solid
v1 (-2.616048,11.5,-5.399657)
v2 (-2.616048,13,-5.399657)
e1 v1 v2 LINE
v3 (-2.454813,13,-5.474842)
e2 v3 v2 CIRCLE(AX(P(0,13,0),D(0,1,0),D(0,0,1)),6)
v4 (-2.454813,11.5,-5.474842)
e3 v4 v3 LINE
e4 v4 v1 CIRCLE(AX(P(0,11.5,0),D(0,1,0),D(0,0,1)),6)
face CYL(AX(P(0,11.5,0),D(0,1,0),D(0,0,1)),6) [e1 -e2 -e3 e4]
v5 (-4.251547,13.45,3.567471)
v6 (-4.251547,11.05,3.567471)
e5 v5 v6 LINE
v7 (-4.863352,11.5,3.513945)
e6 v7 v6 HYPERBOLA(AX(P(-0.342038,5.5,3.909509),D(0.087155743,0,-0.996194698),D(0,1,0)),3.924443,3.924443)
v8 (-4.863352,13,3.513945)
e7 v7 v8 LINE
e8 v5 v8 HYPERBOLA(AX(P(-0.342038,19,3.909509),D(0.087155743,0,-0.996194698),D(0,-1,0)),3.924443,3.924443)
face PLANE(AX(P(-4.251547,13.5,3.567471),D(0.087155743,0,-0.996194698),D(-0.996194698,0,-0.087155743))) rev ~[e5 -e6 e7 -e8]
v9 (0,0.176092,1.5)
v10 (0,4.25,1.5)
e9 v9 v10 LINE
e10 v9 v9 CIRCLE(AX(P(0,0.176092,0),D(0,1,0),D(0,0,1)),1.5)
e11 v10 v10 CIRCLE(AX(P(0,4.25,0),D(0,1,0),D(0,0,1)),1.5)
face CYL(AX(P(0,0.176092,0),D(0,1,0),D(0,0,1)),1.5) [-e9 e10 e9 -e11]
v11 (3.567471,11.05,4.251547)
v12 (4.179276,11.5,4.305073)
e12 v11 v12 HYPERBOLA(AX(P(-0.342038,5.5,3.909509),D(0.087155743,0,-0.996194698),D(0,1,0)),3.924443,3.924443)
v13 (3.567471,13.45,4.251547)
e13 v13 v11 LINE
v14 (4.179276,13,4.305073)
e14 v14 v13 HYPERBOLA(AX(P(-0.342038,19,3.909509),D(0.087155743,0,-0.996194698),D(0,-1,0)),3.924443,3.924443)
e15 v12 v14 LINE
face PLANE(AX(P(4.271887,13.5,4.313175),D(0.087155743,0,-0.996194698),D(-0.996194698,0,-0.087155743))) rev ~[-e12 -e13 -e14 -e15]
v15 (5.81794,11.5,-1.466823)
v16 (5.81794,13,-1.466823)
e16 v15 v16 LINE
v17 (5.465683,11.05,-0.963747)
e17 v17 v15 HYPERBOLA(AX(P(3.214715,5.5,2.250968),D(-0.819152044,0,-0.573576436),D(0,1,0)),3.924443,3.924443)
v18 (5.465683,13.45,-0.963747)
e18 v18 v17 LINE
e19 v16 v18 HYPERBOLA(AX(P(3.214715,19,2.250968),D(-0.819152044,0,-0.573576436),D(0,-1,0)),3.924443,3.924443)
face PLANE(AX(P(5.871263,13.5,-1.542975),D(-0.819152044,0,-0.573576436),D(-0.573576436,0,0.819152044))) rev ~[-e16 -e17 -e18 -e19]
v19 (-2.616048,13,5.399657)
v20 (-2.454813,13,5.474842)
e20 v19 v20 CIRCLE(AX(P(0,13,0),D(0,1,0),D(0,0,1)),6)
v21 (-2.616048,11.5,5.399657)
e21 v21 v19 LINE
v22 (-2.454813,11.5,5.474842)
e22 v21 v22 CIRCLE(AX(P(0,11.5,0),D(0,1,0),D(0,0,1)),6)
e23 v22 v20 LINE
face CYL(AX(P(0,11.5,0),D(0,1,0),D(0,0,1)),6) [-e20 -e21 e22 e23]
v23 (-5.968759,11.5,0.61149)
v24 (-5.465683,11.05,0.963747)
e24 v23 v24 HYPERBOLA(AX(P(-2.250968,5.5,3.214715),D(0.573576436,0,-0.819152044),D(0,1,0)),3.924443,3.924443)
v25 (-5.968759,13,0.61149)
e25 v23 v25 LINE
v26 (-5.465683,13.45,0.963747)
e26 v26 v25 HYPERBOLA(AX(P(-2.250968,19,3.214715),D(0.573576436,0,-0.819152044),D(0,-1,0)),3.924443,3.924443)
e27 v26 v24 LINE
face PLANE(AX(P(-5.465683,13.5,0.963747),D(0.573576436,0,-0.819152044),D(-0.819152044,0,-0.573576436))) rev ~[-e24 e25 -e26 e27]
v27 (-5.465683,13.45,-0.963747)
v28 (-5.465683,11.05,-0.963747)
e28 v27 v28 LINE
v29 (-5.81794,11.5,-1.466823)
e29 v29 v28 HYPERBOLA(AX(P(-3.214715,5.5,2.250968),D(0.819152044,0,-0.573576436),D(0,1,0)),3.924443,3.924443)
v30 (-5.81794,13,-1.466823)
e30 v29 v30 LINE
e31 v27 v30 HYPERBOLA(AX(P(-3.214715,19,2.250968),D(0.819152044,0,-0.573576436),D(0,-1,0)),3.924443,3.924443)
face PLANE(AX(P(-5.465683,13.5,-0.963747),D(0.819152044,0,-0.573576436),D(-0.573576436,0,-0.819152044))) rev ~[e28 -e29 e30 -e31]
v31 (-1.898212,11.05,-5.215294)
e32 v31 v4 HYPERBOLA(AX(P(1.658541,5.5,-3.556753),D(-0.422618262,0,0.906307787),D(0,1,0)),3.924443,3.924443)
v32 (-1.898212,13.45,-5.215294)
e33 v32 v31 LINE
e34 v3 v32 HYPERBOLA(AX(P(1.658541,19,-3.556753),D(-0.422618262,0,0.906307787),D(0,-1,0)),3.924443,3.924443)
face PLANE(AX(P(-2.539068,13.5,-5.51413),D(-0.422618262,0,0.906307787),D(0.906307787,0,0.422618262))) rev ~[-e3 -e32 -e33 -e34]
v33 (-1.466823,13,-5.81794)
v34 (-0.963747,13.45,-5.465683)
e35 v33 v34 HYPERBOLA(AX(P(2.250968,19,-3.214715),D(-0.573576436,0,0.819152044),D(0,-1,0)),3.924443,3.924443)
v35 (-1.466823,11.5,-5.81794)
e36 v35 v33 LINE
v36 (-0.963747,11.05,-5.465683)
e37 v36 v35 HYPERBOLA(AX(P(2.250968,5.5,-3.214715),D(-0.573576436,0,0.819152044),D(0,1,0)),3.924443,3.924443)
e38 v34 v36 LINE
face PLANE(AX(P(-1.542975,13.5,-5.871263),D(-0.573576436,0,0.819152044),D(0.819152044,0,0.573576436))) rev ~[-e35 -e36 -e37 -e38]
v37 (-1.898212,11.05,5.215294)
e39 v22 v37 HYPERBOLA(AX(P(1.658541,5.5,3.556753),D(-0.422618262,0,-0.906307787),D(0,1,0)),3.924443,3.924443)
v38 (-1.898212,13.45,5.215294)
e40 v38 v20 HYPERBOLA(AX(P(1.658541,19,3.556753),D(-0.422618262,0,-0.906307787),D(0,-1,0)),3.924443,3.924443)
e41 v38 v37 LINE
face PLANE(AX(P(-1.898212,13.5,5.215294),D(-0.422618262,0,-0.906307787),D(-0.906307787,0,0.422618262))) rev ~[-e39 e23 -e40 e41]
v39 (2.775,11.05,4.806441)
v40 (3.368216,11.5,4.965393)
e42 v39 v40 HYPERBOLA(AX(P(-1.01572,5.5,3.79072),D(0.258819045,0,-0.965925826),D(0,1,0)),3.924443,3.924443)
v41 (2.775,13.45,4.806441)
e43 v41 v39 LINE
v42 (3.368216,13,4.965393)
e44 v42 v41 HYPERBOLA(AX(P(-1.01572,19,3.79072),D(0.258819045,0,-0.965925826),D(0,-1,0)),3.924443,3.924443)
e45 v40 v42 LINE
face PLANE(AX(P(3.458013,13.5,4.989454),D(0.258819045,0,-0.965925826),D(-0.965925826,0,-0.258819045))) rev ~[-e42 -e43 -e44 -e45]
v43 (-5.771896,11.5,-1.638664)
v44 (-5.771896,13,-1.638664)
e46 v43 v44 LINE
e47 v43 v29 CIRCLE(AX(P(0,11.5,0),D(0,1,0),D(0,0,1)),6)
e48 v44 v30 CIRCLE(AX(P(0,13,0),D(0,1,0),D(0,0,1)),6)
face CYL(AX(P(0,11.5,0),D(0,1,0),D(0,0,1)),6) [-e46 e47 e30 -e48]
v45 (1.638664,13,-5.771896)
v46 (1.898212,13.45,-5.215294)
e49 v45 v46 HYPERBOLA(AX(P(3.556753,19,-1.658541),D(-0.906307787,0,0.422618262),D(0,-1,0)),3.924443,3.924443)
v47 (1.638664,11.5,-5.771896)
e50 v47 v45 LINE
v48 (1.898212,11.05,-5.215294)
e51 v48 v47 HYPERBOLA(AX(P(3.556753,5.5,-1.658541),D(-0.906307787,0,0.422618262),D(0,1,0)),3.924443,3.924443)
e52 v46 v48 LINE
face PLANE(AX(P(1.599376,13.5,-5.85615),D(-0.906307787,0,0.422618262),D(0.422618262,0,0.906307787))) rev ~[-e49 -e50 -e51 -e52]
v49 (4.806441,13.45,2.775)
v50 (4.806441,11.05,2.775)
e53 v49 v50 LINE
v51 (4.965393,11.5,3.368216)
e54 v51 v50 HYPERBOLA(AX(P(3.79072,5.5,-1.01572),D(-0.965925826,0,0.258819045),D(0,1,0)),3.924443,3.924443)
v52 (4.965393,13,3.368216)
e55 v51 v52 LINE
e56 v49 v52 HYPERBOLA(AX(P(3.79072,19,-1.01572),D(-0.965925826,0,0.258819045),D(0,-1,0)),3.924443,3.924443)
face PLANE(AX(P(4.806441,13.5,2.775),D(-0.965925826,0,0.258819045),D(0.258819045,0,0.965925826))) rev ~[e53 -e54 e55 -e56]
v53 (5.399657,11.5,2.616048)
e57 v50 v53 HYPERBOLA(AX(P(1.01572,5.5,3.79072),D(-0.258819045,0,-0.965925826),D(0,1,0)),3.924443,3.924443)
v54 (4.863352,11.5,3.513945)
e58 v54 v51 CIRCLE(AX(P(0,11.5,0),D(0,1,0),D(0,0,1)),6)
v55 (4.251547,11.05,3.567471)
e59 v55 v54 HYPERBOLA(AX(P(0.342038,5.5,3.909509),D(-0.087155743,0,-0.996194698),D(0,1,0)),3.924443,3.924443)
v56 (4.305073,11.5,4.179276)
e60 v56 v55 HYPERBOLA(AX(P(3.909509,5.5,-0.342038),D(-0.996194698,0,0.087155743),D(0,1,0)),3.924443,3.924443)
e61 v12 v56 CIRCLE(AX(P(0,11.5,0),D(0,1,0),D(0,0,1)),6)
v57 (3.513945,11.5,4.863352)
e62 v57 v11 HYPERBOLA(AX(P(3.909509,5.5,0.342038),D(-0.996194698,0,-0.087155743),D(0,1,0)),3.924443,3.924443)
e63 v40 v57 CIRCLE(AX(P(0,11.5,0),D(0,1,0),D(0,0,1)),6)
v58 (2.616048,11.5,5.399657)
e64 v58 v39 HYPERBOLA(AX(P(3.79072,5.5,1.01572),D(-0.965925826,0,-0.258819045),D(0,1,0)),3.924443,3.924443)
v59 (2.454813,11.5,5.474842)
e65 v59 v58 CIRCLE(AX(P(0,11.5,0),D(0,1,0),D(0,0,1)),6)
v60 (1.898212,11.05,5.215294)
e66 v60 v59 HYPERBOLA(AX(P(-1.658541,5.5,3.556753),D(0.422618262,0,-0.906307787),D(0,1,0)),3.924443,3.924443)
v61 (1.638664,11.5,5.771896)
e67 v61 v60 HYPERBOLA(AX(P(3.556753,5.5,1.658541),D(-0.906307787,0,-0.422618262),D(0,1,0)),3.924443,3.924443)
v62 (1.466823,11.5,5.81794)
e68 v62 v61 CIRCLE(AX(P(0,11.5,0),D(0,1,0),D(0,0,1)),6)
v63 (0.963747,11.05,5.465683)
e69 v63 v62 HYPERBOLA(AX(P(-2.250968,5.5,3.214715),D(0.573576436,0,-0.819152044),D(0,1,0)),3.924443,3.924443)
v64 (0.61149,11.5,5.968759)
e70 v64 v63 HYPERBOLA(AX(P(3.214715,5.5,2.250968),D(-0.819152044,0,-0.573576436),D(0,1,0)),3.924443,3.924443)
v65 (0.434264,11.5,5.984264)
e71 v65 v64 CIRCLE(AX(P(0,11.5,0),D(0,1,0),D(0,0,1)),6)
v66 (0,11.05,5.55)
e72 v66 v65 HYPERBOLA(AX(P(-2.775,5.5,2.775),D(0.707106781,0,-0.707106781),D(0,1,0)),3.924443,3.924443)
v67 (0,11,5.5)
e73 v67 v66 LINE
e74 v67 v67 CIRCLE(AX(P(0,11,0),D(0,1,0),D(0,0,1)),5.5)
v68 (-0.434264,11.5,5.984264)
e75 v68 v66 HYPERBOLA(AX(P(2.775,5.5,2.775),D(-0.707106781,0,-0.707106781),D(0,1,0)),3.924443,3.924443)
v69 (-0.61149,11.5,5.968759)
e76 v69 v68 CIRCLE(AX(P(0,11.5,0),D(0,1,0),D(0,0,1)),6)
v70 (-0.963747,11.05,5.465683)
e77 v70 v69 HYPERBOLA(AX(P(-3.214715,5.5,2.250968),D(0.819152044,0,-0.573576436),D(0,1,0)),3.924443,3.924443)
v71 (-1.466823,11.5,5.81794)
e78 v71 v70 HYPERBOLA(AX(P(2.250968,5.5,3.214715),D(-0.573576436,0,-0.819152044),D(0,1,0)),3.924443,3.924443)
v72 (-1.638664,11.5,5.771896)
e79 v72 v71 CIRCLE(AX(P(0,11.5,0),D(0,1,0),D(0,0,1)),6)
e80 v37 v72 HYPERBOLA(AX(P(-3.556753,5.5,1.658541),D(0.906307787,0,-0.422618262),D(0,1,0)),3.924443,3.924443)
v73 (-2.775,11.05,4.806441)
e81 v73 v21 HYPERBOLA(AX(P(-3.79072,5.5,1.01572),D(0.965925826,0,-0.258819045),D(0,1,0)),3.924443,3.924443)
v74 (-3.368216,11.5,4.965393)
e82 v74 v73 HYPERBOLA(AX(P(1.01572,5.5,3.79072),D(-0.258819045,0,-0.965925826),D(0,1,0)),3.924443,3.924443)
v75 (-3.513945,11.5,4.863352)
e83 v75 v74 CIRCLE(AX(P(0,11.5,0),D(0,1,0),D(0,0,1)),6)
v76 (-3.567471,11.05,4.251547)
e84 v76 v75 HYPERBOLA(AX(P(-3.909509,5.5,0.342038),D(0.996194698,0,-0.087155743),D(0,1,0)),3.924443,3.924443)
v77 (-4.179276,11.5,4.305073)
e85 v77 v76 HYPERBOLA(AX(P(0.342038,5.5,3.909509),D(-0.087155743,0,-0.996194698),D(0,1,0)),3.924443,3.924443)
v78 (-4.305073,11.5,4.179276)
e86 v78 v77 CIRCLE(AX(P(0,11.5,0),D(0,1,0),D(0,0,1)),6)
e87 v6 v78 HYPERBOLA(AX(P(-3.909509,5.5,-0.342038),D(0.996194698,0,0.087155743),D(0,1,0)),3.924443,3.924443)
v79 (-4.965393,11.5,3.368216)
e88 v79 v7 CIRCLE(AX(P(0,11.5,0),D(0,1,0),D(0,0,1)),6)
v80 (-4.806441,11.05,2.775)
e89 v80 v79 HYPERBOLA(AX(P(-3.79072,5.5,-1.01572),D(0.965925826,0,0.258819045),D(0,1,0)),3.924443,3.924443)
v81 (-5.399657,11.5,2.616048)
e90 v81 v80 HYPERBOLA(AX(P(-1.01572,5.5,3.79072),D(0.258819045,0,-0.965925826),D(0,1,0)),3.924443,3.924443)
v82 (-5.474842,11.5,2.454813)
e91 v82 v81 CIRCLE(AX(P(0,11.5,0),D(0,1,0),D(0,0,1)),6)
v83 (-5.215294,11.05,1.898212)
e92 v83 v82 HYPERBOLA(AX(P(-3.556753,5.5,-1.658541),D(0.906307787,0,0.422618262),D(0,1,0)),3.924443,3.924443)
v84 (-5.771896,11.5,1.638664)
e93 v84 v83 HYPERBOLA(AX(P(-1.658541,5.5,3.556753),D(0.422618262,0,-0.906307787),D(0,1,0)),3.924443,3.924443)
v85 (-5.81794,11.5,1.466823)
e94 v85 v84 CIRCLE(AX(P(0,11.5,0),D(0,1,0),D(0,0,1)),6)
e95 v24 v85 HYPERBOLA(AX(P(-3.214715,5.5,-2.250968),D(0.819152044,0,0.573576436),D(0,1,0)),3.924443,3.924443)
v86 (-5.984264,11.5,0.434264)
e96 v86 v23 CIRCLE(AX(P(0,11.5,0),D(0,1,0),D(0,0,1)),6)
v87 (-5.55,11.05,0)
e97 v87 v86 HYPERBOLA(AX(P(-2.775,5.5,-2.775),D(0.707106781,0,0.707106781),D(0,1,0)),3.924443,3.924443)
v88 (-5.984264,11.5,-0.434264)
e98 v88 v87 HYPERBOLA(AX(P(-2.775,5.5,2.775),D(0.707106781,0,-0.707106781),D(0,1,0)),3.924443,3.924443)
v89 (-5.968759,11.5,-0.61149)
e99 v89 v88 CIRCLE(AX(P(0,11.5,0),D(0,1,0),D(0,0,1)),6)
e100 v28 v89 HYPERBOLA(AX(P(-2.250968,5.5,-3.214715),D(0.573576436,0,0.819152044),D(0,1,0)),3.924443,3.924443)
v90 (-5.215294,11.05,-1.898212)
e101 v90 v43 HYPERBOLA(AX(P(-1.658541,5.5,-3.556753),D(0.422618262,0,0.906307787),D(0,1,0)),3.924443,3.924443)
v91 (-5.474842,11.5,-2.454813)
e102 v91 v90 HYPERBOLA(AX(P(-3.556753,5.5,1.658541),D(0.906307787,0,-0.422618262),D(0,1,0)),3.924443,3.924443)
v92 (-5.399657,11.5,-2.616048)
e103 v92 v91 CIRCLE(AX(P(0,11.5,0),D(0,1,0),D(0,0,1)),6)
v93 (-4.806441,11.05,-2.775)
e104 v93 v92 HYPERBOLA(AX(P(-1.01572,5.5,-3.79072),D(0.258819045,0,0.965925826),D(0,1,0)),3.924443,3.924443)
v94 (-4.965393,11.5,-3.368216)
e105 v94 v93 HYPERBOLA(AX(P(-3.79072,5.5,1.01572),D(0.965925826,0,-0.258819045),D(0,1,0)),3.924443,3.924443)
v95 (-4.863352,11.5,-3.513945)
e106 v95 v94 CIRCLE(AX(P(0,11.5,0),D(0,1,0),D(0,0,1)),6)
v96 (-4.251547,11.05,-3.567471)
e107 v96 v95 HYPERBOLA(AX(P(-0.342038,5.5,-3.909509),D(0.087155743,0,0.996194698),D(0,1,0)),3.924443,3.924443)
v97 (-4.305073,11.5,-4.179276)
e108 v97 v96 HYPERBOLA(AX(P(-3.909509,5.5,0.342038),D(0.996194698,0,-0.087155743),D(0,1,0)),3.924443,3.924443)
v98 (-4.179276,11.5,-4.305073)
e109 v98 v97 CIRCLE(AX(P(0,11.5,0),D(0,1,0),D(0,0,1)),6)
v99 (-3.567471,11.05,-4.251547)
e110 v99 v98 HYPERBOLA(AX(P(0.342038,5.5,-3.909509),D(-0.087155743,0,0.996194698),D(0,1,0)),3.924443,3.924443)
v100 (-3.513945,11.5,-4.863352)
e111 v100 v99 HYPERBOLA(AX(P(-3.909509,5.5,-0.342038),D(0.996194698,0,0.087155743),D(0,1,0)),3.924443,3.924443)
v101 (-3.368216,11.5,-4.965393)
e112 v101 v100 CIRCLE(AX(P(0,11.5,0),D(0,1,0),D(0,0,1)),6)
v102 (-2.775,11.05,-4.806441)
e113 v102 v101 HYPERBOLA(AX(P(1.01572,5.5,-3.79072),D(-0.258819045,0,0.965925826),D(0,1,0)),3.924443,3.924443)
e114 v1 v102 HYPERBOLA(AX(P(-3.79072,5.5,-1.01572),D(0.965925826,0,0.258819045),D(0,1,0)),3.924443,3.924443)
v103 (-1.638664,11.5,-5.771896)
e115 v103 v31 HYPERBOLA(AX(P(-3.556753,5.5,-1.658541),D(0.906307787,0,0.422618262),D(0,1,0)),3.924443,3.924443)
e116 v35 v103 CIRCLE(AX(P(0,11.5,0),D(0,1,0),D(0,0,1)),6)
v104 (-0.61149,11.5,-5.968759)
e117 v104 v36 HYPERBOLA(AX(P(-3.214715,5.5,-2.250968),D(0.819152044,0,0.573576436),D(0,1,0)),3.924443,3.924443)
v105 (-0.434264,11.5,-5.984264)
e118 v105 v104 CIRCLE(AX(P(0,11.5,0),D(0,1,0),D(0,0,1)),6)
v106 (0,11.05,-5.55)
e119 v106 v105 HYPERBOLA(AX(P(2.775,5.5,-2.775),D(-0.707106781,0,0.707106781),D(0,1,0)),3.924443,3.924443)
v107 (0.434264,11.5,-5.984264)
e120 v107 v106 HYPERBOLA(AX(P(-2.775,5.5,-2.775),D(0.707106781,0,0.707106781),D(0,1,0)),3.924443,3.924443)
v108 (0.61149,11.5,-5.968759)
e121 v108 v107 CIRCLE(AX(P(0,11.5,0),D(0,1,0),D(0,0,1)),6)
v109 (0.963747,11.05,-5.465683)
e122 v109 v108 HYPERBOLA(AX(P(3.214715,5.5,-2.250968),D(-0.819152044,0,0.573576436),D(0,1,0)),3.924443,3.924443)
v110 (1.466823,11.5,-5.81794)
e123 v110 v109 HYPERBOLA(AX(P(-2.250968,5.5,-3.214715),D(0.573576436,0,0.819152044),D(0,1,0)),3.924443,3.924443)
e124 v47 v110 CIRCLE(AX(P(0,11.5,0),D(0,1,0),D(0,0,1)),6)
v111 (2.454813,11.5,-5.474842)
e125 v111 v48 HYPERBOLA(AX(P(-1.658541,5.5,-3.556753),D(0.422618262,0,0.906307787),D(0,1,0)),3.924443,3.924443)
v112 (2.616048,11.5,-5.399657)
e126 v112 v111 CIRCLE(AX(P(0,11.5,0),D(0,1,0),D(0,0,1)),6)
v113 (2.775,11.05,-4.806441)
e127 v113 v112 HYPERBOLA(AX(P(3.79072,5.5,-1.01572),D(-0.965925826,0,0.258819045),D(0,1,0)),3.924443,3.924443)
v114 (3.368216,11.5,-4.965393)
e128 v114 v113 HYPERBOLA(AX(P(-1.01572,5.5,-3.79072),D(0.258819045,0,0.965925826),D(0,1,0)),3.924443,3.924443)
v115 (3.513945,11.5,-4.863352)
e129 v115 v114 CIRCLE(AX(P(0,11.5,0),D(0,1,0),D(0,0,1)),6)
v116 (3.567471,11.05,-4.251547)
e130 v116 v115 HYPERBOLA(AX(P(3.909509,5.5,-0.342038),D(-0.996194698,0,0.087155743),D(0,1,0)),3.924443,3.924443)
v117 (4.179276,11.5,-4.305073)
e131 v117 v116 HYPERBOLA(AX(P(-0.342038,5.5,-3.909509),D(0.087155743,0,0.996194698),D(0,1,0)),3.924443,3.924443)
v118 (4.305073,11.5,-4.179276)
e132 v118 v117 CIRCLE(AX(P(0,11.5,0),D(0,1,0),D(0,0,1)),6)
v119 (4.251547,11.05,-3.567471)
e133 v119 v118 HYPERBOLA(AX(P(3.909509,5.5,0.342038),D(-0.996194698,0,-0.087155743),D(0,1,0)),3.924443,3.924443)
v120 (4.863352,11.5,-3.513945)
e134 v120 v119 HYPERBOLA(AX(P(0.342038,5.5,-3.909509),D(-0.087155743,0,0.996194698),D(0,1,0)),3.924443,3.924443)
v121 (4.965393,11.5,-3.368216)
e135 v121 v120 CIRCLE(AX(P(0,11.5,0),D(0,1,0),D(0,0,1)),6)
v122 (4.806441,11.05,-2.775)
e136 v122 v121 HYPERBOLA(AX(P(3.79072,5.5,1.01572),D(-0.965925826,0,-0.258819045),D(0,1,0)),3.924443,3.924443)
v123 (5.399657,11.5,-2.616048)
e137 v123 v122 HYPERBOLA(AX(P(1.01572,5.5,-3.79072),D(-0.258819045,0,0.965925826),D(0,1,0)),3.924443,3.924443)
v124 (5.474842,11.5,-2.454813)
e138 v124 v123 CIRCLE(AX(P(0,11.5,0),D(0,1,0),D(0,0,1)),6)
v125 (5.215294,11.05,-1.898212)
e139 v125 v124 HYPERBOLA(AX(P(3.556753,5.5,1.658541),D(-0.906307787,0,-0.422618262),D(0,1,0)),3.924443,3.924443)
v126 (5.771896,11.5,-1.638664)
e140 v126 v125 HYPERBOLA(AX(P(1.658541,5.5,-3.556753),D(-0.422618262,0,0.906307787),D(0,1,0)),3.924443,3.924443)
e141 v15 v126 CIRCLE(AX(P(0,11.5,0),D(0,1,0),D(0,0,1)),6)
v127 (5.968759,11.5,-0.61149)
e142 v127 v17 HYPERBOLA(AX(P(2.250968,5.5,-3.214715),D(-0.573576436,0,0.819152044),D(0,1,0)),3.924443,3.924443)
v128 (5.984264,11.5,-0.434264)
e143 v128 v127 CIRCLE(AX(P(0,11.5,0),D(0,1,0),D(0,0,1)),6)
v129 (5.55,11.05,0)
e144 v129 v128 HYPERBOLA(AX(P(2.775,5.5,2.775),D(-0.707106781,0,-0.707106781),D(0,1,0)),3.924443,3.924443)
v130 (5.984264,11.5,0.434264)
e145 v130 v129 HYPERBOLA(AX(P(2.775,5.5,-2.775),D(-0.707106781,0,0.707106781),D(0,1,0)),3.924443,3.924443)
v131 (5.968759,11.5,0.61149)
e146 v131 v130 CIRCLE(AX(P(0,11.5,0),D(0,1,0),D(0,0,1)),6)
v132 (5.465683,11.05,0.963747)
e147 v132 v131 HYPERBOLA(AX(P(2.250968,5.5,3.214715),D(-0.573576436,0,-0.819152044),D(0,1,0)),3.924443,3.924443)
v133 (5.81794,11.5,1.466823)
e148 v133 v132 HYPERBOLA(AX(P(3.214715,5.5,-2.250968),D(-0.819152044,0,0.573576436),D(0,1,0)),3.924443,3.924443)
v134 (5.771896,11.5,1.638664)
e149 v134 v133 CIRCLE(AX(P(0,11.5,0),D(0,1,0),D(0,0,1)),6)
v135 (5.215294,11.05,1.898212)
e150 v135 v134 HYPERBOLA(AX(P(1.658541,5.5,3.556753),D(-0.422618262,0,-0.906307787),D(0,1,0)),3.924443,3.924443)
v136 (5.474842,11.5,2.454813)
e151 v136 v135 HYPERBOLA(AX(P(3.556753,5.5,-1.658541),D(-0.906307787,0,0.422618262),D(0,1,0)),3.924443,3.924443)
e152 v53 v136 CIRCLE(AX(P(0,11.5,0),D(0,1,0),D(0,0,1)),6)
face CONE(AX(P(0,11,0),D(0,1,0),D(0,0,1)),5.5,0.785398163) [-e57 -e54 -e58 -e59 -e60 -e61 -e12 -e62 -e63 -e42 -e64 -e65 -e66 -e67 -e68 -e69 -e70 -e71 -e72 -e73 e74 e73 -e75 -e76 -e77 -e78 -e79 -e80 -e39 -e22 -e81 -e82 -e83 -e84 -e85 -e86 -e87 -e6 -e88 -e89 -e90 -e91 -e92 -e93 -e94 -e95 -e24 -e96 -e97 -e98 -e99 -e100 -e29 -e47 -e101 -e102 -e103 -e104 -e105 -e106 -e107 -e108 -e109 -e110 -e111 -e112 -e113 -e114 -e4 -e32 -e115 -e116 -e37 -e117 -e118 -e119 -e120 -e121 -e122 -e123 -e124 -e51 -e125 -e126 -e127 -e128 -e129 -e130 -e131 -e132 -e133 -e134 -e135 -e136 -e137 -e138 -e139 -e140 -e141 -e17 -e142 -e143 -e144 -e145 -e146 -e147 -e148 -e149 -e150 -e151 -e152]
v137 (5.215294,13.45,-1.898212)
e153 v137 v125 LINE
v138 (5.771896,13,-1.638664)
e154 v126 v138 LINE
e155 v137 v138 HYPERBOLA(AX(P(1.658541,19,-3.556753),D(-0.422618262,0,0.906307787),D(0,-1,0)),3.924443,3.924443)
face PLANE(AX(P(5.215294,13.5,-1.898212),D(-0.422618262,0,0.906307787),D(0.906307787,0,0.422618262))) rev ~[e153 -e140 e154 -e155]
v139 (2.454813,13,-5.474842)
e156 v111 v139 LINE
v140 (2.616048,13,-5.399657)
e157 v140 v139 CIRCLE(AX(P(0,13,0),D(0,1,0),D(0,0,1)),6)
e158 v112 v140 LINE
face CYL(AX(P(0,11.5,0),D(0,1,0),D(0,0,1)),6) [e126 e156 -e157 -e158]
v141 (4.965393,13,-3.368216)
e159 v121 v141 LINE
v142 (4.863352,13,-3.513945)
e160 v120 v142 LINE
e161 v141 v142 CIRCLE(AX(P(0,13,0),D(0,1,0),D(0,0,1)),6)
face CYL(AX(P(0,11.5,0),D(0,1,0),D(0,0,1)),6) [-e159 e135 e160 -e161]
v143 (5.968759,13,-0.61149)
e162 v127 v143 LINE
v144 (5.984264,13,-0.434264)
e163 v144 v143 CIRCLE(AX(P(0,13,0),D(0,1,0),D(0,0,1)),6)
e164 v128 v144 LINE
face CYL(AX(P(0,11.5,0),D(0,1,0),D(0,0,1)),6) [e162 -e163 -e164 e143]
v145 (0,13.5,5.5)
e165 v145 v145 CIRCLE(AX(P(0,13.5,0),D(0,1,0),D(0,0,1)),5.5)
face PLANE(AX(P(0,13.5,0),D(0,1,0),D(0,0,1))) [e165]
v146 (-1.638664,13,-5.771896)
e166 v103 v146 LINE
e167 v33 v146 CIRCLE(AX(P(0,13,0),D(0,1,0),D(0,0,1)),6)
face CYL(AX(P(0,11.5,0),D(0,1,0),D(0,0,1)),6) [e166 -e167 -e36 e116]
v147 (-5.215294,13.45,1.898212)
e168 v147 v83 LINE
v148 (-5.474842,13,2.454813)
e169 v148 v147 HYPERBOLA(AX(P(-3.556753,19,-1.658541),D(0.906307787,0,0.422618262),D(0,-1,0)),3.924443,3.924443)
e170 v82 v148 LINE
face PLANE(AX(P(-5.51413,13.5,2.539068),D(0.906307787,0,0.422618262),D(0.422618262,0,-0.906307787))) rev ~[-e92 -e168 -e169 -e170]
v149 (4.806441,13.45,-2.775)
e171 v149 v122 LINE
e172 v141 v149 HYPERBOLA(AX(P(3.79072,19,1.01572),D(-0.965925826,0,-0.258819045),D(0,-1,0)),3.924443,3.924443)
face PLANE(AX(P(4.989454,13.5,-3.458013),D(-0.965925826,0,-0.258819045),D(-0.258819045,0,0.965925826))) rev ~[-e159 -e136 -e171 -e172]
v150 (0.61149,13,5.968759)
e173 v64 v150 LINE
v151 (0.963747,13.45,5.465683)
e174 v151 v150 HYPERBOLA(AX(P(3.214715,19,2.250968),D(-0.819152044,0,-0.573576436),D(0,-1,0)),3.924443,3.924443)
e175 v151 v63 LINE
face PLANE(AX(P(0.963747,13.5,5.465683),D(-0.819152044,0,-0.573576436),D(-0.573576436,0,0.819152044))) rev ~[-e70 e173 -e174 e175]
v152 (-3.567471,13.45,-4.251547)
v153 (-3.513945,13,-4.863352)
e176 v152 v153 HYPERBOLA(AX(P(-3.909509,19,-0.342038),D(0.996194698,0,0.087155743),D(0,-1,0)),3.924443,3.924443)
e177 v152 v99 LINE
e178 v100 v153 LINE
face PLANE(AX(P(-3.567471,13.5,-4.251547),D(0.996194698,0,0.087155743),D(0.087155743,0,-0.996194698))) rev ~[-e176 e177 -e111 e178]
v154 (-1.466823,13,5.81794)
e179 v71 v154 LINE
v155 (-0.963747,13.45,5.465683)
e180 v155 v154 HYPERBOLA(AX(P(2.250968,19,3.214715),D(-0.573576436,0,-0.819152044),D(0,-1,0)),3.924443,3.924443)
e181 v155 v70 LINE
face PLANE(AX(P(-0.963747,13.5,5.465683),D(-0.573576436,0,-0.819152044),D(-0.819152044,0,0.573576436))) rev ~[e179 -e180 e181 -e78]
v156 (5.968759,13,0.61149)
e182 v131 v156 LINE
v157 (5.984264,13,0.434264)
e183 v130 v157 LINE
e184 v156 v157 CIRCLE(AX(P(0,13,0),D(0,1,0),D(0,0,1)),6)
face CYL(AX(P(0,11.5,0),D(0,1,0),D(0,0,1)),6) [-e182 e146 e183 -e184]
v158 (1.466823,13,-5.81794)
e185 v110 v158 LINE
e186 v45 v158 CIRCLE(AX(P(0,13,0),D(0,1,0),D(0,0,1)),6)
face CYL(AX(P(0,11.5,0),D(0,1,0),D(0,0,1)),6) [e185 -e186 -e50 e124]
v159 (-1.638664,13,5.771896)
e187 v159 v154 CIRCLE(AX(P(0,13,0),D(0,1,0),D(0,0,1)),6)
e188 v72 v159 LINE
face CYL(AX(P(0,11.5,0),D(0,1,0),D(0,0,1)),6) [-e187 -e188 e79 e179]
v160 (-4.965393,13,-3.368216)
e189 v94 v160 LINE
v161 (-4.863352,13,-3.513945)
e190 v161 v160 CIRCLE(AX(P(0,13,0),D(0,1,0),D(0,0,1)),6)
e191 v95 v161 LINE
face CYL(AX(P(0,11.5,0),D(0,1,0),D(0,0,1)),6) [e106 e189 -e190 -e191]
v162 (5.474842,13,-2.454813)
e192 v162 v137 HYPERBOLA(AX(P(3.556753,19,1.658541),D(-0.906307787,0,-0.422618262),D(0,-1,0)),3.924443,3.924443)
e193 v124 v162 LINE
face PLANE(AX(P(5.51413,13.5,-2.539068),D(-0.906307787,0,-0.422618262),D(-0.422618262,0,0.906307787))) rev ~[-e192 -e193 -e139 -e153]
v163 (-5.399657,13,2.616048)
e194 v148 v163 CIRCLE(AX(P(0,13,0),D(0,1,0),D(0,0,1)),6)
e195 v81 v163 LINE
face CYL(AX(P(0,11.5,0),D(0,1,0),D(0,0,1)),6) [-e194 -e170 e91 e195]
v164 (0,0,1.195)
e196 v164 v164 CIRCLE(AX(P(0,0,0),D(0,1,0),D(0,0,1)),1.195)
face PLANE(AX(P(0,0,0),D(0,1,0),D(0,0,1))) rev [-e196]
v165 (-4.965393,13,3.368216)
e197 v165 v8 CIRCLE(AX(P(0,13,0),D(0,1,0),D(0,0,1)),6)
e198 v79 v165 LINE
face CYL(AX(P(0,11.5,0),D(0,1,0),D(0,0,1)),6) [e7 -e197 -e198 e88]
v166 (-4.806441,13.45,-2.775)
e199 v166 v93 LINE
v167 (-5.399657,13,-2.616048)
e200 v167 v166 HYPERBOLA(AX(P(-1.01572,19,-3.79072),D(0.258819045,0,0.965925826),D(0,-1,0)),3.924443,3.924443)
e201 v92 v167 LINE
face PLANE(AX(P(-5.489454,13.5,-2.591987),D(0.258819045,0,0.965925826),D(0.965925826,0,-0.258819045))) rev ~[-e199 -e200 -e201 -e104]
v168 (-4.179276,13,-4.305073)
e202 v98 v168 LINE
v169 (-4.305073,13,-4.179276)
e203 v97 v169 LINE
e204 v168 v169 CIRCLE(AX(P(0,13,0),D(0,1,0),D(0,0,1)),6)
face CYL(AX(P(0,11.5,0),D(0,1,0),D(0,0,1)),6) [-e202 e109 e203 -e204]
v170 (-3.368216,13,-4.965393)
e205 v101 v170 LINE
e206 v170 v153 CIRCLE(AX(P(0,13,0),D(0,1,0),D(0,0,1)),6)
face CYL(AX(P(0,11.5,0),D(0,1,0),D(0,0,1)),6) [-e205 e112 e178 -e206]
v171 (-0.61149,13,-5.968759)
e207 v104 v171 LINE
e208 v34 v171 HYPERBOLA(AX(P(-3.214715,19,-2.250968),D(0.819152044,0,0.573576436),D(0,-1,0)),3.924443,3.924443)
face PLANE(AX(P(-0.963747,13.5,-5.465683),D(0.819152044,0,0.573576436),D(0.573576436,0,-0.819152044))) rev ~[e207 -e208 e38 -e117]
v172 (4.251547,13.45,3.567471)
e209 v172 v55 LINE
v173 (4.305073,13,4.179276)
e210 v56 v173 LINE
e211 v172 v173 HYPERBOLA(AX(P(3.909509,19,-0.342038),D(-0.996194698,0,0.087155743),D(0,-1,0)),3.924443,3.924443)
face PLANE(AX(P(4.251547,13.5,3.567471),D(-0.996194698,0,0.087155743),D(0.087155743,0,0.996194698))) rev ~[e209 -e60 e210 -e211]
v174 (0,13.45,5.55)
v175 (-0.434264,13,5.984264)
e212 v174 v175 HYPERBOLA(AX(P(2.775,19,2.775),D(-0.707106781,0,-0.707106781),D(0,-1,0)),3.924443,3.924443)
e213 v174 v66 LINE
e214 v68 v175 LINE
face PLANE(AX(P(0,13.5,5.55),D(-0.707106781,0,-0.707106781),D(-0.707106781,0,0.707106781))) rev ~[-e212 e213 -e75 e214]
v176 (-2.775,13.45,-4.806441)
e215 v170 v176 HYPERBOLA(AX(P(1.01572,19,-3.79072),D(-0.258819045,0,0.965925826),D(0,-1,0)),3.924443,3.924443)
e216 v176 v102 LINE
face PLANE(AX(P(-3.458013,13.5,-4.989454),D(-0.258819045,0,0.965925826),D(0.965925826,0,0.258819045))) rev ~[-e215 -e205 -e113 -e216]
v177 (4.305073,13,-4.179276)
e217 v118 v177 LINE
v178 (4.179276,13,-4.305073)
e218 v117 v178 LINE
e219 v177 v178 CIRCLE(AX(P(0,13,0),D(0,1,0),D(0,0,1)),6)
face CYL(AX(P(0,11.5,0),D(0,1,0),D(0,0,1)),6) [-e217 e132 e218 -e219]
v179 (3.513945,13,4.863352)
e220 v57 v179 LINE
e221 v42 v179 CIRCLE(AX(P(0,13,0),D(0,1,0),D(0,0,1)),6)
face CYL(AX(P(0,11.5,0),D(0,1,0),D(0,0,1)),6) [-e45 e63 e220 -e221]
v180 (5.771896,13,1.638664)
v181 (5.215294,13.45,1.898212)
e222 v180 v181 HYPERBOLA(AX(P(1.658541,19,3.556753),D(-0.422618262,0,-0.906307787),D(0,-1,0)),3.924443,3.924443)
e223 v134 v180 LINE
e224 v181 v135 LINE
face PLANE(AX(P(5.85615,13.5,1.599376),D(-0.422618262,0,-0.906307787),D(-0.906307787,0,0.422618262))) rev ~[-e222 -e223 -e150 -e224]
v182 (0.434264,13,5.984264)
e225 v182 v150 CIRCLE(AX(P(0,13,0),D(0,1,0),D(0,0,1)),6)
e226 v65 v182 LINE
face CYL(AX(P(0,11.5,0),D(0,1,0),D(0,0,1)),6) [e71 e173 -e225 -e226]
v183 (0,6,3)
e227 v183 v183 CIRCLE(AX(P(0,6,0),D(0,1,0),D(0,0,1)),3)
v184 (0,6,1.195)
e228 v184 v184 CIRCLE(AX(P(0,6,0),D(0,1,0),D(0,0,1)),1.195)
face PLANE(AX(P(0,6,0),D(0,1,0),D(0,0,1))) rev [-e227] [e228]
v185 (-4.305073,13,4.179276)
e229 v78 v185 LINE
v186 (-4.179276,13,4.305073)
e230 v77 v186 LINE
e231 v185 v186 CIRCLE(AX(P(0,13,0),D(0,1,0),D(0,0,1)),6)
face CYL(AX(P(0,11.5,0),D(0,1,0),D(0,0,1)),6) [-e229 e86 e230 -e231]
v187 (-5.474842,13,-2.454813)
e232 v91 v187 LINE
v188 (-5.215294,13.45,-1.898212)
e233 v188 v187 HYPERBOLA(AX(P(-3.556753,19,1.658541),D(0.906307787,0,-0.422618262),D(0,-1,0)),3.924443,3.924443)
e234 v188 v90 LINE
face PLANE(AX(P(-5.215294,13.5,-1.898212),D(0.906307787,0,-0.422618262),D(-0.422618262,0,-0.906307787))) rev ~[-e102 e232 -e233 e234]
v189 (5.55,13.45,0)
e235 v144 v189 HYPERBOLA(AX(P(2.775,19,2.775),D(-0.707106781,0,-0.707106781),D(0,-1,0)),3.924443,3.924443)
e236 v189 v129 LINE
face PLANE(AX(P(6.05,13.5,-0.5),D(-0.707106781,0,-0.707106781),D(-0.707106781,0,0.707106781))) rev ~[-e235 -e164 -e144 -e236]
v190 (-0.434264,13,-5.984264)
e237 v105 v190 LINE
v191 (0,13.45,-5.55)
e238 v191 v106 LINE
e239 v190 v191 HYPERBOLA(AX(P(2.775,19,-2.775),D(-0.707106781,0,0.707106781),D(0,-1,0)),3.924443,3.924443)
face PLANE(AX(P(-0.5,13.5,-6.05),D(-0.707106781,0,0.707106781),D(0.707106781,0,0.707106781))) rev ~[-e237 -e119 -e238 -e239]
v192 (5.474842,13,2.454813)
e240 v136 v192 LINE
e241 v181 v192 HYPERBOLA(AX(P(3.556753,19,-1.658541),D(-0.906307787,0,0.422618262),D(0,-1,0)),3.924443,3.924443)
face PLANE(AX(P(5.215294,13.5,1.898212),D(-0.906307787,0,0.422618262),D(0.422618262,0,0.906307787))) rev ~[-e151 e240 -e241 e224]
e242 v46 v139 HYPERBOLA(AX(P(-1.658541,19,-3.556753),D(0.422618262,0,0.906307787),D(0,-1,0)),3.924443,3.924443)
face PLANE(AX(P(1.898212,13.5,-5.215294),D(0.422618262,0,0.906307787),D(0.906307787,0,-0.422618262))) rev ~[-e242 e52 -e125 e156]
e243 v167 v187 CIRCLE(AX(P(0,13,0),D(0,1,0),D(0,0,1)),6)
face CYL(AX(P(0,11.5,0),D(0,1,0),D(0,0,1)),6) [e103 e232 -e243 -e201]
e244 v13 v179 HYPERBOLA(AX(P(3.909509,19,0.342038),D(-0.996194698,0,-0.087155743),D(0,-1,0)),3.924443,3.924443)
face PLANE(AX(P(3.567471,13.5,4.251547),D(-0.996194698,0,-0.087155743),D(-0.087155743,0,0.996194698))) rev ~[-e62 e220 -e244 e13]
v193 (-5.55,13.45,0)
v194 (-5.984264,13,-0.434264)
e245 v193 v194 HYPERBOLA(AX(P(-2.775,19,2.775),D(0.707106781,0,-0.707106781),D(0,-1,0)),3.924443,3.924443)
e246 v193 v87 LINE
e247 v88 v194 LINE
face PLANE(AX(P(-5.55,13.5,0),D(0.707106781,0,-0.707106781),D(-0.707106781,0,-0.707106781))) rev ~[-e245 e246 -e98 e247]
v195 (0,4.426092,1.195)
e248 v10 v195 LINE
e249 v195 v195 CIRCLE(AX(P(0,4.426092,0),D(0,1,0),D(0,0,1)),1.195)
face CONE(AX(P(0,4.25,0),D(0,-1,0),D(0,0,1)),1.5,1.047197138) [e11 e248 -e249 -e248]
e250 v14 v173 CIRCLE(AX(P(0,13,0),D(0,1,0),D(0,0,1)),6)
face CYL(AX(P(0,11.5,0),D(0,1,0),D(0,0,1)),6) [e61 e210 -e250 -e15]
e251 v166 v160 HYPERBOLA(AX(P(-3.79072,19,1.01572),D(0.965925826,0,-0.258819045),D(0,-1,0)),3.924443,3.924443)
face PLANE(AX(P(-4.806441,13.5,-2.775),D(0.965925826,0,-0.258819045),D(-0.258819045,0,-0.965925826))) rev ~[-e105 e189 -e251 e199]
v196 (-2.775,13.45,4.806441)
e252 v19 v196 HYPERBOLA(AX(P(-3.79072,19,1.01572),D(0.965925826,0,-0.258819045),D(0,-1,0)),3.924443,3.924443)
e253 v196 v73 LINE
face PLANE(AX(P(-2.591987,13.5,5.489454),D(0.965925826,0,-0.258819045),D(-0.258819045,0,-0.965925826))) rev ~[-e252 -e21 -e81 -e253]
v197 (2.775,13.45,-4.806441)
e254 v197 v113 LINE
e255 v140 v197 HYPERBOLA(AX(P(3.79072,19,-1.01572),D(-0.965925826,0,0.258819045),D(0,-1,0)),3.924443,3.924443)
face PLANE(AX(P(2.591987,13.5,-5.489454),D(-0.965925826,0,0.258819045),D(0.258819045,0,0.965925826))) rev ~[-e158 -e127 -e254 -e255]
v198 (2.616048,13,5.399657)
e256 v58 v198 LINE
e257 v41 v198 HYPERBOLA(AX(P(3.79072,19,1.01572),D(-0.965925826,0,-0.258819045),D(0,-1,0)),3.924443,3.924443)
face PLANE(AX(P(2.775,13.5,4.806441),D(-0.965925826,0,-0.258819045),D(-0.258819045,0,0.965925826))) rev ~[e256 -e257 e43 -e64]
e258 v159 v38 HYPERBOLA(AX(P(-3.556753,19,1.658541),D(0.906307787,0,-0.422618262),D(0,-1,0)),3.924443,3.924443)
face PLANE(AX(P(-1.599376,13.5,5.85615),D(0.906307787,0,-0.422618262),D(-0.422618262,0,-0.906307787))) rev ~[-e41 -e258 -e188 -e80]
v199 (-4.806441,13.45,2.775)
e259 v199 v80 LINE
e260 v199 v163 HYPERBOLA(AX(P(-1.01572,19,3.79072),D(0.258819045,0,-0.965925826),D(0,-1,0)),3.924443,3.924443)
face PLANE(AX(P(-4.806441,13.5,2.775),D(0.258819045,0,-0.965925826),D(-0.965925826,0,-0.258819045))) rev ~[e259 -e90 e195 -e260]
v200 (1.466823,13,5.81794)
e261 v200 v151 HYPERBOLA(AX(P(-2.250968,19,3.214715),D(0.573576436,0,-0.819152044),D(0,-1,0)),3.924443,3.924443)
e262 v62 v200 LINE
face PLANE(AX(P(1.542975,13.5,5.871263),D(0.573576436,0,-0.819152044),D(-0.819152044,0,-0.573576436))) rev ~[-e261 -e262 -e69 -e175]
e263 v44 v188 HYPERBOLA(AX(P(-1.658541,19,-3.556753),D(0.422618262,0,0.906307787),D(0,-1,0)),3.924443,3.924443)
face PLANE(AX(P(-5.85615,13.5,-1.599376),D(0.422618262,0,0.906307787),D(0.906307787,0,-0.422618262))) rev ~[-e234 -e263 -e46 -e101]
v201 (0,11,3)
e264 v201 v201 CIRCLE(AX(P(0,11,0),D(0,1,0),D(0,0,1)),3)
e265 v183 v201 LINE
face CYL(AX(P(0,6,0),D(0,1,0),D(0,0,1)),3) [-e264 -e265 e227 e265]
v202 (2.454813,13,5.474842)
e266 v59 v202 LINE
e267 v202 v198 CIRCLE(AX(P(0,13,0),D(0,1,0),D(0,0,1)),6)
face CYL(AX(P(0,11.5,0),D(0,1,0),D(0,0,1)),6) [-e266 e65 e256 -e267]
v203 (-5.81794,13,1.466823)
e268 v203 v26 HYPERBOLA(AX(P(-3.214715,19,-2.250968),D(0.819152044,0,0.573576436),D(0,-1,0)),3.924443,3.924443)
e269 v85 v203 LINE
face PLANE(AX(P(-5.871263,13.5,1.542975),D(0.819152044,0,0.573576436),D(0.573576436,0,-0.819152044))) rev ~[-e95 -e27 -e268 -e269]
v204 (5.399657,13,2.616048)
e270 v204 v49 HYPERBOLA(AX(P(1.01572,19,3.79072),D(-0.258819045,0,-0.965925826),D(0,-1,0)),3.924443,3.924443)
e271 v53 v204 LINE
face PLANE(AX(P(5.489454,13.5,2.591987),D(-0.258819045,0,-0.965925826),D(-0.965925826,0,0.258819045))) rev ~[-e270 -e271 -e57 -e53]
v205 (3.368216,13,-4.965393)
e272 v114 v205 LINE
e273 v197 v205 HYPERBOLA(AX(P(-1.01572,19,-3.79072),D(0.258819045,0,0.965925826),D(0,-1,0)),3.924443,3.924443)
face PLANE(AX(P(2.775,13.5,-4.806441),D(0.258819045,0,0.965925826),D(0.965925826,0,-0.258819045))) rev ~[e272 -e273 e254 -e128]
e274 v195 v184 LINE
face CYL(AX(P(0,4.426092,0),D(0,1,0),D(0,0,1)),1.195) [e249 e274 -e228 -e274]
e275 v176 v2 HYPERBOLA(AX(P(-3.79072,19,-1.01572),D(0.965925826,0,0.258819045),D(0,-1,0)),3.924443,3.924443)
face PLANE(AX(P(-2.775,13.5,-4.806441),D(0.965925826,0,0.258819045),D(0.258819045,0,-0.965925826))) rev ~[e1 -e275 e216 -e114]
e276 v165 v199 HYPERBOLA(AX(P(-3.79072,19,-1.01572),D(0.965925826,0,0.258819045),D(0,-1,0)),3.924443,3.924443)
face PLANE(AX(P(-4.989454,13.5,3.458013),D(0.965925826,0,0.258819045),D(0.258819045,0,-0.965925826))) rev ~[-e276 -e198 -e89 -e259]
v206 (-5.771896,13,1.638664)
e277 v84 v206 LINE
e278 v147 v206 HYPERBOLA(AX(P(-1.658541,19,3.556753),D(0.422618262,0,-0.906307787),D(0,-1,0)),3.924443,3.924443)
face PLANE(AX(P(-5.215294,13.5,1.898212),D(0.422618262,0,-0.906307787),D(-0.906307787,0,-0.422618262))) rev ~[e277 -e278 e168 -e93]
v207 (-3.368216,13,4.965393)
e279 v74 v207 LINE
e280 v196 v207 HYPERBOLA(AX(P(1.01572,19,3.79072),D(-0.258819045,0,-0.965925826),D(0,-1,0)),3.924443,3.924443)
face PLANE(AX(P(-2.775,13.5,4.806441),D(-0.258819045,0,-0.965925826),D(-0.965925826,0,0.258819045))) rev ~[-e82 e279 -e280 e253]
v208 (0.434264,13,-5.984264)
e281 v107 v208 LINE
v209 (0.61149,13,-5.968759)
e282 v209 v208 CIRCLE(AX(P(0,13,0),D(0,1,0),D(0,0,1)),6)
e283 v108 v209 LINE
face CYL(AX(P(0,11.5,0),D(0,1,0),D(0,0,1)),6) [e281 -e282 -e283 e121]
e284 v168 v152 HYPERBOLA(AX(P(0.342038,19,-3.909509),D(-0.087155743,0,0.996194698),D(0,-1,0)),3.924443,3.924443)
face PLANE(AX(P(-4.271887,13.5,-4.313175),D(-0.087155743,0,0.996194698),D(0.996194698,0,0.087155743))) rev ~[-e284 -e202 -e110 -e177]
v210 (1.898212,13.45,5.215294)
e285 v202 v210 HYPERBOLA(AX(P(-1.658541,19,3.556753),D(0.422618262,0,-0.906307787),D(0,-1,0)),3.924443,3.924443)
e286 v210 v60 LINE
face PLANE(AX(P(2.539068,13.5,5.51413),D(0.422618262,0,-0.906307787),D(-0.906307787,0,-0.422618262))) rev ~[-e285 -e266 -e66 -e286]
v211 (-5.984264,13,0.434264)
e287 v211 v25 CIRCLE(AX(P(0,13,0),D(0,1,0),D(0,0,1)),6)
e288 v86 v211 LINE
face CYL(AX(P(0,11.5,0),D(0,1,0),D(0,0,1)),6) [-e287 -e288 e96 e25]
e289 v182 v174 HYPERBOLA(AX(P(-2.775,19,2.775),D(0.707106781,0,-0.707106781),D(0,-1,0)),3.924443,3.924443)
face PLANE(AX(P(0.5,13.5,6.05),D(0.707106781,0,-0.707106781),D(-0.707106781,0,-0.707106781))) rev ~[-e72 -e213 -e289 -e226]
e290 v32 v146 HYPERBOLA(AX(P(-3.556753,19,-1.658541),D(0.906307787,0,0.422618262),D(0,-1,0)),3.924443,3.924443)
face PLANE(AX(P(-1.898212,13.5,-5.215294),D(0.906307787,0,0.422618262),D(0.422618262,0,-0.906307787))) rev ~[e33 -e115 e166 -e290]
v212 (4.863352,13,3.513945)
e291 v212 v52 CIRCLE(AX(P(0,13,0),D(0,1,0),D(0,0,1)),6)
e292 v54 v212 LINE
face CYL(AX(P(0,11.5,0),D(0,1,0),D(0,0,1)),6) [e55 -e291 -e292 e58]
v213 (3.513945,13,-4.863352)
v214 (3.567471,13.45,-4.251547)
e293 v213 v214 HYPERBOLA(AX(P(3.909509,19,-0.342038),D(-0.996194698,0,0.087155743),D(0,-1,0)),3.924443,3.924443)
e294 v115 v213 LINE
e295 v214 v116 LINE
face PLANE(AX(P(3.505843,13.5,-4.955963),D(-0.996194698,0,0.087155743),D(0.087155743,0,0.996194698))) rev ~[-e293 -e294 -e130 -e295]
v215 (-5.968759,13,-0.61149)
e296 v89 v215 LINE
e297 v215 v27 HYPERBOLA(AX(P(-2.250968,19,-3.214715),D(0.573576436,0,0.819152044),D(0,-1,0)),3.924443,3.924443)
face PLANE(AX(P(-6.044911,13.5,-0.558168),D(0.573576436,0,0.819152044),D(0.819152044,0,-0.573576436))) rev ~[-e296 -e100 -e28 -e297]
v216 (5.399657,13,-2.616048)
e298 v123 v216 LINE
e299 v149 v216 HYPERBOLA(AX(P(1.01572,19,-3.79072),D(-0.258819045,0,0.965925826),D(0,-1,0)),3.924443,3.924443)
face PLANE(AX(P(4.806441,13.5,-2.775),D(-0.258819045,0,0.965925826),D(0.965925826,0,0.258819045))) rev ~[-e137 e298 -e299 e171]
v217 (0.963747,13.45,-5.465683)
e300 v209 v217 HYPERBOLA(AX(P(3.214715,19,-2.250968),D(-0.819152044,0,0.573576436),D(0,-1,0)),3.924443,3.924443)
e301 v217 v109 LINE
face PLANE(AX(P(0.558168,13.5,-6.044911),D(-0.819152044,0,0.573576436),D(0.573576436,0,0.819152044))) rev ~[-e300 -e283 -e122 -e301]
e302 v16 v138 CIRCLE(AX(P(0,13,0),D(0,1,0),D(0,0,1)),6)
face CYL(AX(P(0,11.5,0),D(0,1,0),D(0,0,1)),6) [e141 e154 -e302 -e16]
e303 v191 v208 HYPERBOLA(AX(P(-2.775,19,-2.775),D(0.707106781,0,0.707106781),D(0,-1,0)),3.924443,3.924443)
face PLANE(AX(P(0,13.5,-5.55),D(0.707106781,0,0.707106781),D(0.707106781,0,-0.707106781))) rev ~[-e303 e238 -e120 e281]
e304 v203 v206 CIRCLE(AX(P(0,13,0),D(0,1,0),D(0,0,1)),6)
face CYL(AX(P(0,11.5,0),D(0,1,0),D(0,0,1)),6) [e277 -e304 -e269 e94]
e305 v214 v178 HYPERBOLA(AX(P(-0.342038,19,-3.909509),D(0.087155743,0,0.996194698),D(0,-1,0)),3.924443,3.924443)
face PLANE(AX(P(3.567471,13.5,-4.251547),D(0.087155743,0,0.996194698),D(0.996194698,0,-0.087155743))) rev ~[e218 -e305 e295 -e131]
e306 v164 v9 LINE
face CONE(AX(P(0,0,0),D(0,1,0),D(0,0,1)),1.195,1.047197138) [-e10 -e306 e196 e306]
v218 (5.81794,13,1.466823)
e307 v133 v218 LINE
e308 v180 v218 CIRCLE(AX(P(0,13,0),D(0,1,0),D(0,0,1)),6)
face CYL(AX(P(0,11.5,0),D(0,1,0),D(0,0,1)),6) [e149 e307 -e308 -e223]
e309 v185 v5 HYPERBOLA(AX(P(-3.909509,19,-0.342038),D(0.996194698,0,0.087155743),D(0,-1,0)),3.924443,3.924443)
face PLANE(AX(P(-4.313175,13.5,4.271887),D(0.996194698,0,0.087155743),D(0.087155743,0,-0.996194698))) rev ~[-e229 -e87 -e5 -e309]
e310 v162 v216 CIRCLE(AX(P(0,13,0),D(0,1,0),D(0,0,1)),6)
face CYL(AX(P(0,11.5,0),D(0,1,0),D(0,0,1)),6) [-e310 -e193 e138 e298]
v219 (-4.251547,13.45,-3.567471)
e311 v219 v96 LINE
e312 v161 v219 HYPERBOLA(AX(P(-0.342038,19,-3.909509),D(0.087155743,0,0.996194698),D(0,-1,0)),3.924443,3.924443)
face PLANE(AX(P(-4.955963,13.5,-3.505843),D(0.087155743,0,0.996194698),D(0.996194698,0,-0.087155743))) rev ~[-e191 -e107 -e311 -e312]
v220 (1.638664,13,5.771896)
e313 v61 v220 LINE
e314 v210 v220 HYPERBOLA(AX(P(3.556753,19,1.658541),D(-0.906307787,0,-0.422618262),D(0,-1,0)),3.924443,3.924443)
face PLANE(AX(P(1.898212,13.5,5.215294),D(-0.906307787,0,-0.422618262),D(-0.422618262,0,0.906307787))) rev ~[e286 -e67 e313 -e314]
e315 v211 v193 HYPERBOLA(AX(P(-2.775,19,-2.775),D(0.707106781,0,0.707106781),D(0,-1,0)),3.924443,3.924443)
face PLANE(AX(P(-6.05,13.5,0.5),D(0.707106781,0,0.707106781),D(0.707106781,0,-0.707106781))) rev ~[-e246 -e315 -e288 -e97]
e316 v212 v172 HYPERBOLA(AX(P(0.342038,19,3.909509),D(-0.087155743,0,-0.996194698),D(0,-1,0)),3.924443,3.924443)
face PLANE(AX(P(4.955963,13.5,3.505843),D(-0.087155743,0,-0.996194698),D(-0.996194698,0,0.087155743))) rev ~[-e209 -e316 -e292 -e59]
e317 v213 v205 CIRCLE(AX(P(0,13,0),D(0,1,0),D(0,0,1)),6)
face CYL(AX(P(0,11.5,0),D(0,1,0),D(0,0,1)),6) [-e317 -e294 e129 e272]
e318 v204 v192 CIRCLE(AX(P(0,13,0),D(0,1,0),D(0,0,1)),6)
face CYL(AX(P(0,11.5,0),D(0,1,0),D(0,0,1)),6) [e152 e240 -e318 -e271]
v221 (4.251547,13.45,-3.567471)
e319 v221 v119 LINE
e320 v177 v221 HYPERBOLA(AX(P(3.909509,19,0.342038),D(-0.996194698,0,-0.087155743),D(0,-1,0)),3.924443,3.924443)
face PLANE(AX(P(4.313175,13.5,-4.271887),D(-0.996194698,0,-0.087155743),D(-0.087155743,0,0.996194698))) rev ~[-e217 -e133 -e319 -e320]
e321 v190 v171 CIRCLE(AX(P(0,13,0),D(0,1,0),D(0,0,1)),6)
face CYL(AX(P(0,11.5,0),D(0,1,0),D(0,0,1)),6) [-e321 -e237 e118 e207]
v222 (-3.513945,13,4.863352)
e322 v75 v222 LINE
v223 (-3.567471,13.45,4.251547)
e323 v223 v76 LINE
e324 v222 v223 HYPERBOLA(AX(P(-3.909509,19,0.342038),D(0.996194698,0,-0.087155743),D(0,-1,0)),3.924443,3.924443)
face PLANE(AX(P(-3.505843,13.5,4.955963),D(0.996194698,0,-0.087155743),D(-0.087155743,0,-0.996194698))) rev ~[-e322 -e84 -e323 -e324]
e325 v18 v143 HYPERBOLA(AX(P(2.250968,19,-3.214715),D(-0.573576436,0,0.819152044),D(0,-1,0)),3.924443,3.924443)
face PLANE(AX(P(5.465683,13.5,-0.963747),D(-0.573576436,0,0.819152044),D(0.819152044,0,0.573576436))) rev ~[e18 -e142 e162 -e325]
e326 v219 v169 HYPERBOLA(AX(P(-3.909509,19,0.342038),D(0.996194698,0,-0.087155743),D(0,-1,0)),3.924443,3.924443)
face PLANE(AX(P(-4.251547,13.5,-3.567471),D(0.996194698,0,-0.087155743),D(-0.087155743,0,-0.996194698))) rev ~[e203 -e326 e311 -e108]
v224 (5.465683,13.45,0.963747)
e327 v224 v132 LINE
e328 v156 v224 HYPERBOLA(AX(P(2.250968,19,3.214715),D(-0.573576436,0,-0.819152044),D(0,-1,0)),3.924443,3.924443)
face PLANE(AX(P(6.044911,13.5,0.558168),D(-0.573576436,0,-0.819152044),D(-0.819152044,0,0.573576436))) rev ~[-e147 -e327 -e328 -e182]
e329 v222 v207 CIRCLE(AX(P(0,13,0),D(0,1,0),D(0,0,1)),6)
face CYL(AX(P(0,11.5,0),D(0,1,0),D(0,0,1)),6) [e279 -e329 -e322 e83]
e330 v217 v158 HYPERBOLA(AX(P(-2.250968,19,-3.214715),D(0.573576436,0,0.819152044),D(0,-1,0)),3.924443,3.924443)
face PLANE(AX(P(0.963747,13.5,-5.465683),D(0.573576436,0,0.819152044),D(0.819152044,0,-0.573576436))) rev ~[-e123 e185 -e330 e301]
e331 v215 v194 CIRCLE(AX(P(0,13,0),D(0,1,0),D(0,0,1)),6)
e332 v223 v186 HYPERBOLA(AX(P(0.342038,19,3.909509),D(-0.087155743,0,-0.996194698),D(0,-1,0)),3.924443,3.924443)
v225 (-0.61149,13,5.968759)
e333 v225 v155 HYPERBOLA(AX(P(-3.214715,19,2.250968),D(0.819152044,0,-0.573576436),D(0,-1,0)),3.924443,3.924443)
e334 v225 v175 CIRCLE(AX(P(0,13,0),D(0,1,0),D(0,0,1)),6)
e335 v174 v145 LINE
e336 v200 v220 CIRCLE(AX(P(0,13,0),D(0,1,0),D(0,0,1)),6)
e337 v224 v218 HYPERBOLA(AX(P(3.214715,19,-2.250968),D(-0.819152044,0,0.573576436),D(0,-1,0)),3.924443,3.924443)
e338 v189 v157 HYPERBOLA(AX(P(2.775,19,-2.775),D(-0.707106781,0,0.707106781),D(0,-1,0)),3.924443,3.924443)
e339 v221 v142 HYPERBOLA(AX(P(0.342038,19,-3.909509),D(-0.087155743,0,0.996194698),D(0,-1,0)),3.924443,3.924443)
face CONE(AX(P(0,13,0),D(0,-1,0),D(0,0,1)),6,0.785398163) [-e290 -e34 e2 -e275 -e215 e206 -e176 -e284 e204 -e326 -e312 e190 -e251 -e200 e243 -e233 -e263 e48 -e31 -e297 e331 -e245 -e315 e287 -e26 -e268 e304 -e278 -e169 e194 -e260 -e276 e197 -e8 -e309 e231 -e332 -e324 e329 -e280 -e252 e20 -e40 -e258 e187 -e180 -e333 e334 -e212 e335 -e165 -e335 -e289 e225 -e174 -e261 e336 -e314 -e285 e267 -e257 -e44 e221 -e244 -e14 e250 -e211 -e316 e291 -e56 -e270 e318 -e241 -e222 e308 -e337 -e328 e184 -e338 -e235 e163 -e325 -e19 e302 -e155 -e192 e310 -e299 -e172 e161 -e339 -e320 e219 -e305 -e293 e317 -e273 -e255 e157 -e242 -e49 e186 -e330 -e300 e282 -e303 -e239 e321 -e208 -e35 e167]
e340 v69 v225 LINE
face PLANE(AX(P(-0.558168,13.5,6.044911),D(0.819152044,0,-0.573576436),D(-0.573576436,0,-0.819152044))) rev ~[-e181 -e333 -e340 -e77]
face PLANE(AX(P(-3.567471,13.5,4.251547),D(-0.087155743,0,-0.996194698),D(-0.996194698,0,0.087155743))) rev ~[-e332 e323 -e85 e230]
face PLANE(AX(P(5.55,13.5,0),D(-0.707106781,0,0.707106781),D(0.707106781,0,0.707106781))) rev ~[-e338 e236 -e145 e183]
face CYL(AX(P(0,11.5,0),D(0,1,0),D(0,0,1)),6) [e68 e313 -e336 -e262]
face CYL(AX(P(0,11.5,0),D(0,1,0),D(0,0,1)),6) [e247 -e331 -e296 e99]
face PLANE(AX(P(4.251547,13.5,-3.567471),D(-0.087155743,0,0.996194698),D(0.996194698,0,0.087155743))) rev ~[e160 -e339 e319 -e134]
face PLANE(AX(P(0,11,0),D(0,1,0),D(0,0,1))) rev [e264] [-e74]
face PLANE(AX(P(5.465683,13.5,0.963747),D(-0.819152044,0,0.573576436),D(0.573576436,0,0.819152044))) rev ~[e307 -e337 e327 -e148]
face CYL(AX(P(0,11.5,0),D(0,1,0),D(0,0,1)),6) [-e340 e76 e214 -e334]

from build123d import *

# Parameters (mm, degrees)
POCKET_DEPTH       = 56.871497
POLARPATTERN_COUNT = 36


with BuildPart() as part:
    # Sketch → Revolution (revolve)
    with BuildSketch(Plane.YZ):
        Polygon((0, 0), (0, 1.195), (0.176092, 1.5), (4.25, 1.5), (4.426092, 1.195), (6, 1.195), (6, 3), (11, 3), (11, 5.5), (11.5, 6), (13, 6), (13.5, 5.5), (13.5, 0), align=None)
    revolve(axis=Axis((0, 0, 0), (0, 1, 0)))

    # Sketch001 → Pocket (cut, through all)
    with BuildSketch(Plane.ZX.offset(13.5)):
        Polygon((-0.5, 6.05), (0, 5.55), (0.5, 6.05), align=None)
    pocket = extrude(amount=-POCKET_DEPTH, mode=Mode.SUBTRACT)

    # PolarPattern: Pocket ×36 about axis
    polarpattern_axis = Axis((0, 13.5, 0), (0, 1, 0))
    for i in range(1, POLARPATTERN_COUNT):
        add(pocket.rotate(polarpattern_axis, i * 360 / POLARPATTERN_COUNT), mode=Mode.SUBTRACT)


solid = part.part
